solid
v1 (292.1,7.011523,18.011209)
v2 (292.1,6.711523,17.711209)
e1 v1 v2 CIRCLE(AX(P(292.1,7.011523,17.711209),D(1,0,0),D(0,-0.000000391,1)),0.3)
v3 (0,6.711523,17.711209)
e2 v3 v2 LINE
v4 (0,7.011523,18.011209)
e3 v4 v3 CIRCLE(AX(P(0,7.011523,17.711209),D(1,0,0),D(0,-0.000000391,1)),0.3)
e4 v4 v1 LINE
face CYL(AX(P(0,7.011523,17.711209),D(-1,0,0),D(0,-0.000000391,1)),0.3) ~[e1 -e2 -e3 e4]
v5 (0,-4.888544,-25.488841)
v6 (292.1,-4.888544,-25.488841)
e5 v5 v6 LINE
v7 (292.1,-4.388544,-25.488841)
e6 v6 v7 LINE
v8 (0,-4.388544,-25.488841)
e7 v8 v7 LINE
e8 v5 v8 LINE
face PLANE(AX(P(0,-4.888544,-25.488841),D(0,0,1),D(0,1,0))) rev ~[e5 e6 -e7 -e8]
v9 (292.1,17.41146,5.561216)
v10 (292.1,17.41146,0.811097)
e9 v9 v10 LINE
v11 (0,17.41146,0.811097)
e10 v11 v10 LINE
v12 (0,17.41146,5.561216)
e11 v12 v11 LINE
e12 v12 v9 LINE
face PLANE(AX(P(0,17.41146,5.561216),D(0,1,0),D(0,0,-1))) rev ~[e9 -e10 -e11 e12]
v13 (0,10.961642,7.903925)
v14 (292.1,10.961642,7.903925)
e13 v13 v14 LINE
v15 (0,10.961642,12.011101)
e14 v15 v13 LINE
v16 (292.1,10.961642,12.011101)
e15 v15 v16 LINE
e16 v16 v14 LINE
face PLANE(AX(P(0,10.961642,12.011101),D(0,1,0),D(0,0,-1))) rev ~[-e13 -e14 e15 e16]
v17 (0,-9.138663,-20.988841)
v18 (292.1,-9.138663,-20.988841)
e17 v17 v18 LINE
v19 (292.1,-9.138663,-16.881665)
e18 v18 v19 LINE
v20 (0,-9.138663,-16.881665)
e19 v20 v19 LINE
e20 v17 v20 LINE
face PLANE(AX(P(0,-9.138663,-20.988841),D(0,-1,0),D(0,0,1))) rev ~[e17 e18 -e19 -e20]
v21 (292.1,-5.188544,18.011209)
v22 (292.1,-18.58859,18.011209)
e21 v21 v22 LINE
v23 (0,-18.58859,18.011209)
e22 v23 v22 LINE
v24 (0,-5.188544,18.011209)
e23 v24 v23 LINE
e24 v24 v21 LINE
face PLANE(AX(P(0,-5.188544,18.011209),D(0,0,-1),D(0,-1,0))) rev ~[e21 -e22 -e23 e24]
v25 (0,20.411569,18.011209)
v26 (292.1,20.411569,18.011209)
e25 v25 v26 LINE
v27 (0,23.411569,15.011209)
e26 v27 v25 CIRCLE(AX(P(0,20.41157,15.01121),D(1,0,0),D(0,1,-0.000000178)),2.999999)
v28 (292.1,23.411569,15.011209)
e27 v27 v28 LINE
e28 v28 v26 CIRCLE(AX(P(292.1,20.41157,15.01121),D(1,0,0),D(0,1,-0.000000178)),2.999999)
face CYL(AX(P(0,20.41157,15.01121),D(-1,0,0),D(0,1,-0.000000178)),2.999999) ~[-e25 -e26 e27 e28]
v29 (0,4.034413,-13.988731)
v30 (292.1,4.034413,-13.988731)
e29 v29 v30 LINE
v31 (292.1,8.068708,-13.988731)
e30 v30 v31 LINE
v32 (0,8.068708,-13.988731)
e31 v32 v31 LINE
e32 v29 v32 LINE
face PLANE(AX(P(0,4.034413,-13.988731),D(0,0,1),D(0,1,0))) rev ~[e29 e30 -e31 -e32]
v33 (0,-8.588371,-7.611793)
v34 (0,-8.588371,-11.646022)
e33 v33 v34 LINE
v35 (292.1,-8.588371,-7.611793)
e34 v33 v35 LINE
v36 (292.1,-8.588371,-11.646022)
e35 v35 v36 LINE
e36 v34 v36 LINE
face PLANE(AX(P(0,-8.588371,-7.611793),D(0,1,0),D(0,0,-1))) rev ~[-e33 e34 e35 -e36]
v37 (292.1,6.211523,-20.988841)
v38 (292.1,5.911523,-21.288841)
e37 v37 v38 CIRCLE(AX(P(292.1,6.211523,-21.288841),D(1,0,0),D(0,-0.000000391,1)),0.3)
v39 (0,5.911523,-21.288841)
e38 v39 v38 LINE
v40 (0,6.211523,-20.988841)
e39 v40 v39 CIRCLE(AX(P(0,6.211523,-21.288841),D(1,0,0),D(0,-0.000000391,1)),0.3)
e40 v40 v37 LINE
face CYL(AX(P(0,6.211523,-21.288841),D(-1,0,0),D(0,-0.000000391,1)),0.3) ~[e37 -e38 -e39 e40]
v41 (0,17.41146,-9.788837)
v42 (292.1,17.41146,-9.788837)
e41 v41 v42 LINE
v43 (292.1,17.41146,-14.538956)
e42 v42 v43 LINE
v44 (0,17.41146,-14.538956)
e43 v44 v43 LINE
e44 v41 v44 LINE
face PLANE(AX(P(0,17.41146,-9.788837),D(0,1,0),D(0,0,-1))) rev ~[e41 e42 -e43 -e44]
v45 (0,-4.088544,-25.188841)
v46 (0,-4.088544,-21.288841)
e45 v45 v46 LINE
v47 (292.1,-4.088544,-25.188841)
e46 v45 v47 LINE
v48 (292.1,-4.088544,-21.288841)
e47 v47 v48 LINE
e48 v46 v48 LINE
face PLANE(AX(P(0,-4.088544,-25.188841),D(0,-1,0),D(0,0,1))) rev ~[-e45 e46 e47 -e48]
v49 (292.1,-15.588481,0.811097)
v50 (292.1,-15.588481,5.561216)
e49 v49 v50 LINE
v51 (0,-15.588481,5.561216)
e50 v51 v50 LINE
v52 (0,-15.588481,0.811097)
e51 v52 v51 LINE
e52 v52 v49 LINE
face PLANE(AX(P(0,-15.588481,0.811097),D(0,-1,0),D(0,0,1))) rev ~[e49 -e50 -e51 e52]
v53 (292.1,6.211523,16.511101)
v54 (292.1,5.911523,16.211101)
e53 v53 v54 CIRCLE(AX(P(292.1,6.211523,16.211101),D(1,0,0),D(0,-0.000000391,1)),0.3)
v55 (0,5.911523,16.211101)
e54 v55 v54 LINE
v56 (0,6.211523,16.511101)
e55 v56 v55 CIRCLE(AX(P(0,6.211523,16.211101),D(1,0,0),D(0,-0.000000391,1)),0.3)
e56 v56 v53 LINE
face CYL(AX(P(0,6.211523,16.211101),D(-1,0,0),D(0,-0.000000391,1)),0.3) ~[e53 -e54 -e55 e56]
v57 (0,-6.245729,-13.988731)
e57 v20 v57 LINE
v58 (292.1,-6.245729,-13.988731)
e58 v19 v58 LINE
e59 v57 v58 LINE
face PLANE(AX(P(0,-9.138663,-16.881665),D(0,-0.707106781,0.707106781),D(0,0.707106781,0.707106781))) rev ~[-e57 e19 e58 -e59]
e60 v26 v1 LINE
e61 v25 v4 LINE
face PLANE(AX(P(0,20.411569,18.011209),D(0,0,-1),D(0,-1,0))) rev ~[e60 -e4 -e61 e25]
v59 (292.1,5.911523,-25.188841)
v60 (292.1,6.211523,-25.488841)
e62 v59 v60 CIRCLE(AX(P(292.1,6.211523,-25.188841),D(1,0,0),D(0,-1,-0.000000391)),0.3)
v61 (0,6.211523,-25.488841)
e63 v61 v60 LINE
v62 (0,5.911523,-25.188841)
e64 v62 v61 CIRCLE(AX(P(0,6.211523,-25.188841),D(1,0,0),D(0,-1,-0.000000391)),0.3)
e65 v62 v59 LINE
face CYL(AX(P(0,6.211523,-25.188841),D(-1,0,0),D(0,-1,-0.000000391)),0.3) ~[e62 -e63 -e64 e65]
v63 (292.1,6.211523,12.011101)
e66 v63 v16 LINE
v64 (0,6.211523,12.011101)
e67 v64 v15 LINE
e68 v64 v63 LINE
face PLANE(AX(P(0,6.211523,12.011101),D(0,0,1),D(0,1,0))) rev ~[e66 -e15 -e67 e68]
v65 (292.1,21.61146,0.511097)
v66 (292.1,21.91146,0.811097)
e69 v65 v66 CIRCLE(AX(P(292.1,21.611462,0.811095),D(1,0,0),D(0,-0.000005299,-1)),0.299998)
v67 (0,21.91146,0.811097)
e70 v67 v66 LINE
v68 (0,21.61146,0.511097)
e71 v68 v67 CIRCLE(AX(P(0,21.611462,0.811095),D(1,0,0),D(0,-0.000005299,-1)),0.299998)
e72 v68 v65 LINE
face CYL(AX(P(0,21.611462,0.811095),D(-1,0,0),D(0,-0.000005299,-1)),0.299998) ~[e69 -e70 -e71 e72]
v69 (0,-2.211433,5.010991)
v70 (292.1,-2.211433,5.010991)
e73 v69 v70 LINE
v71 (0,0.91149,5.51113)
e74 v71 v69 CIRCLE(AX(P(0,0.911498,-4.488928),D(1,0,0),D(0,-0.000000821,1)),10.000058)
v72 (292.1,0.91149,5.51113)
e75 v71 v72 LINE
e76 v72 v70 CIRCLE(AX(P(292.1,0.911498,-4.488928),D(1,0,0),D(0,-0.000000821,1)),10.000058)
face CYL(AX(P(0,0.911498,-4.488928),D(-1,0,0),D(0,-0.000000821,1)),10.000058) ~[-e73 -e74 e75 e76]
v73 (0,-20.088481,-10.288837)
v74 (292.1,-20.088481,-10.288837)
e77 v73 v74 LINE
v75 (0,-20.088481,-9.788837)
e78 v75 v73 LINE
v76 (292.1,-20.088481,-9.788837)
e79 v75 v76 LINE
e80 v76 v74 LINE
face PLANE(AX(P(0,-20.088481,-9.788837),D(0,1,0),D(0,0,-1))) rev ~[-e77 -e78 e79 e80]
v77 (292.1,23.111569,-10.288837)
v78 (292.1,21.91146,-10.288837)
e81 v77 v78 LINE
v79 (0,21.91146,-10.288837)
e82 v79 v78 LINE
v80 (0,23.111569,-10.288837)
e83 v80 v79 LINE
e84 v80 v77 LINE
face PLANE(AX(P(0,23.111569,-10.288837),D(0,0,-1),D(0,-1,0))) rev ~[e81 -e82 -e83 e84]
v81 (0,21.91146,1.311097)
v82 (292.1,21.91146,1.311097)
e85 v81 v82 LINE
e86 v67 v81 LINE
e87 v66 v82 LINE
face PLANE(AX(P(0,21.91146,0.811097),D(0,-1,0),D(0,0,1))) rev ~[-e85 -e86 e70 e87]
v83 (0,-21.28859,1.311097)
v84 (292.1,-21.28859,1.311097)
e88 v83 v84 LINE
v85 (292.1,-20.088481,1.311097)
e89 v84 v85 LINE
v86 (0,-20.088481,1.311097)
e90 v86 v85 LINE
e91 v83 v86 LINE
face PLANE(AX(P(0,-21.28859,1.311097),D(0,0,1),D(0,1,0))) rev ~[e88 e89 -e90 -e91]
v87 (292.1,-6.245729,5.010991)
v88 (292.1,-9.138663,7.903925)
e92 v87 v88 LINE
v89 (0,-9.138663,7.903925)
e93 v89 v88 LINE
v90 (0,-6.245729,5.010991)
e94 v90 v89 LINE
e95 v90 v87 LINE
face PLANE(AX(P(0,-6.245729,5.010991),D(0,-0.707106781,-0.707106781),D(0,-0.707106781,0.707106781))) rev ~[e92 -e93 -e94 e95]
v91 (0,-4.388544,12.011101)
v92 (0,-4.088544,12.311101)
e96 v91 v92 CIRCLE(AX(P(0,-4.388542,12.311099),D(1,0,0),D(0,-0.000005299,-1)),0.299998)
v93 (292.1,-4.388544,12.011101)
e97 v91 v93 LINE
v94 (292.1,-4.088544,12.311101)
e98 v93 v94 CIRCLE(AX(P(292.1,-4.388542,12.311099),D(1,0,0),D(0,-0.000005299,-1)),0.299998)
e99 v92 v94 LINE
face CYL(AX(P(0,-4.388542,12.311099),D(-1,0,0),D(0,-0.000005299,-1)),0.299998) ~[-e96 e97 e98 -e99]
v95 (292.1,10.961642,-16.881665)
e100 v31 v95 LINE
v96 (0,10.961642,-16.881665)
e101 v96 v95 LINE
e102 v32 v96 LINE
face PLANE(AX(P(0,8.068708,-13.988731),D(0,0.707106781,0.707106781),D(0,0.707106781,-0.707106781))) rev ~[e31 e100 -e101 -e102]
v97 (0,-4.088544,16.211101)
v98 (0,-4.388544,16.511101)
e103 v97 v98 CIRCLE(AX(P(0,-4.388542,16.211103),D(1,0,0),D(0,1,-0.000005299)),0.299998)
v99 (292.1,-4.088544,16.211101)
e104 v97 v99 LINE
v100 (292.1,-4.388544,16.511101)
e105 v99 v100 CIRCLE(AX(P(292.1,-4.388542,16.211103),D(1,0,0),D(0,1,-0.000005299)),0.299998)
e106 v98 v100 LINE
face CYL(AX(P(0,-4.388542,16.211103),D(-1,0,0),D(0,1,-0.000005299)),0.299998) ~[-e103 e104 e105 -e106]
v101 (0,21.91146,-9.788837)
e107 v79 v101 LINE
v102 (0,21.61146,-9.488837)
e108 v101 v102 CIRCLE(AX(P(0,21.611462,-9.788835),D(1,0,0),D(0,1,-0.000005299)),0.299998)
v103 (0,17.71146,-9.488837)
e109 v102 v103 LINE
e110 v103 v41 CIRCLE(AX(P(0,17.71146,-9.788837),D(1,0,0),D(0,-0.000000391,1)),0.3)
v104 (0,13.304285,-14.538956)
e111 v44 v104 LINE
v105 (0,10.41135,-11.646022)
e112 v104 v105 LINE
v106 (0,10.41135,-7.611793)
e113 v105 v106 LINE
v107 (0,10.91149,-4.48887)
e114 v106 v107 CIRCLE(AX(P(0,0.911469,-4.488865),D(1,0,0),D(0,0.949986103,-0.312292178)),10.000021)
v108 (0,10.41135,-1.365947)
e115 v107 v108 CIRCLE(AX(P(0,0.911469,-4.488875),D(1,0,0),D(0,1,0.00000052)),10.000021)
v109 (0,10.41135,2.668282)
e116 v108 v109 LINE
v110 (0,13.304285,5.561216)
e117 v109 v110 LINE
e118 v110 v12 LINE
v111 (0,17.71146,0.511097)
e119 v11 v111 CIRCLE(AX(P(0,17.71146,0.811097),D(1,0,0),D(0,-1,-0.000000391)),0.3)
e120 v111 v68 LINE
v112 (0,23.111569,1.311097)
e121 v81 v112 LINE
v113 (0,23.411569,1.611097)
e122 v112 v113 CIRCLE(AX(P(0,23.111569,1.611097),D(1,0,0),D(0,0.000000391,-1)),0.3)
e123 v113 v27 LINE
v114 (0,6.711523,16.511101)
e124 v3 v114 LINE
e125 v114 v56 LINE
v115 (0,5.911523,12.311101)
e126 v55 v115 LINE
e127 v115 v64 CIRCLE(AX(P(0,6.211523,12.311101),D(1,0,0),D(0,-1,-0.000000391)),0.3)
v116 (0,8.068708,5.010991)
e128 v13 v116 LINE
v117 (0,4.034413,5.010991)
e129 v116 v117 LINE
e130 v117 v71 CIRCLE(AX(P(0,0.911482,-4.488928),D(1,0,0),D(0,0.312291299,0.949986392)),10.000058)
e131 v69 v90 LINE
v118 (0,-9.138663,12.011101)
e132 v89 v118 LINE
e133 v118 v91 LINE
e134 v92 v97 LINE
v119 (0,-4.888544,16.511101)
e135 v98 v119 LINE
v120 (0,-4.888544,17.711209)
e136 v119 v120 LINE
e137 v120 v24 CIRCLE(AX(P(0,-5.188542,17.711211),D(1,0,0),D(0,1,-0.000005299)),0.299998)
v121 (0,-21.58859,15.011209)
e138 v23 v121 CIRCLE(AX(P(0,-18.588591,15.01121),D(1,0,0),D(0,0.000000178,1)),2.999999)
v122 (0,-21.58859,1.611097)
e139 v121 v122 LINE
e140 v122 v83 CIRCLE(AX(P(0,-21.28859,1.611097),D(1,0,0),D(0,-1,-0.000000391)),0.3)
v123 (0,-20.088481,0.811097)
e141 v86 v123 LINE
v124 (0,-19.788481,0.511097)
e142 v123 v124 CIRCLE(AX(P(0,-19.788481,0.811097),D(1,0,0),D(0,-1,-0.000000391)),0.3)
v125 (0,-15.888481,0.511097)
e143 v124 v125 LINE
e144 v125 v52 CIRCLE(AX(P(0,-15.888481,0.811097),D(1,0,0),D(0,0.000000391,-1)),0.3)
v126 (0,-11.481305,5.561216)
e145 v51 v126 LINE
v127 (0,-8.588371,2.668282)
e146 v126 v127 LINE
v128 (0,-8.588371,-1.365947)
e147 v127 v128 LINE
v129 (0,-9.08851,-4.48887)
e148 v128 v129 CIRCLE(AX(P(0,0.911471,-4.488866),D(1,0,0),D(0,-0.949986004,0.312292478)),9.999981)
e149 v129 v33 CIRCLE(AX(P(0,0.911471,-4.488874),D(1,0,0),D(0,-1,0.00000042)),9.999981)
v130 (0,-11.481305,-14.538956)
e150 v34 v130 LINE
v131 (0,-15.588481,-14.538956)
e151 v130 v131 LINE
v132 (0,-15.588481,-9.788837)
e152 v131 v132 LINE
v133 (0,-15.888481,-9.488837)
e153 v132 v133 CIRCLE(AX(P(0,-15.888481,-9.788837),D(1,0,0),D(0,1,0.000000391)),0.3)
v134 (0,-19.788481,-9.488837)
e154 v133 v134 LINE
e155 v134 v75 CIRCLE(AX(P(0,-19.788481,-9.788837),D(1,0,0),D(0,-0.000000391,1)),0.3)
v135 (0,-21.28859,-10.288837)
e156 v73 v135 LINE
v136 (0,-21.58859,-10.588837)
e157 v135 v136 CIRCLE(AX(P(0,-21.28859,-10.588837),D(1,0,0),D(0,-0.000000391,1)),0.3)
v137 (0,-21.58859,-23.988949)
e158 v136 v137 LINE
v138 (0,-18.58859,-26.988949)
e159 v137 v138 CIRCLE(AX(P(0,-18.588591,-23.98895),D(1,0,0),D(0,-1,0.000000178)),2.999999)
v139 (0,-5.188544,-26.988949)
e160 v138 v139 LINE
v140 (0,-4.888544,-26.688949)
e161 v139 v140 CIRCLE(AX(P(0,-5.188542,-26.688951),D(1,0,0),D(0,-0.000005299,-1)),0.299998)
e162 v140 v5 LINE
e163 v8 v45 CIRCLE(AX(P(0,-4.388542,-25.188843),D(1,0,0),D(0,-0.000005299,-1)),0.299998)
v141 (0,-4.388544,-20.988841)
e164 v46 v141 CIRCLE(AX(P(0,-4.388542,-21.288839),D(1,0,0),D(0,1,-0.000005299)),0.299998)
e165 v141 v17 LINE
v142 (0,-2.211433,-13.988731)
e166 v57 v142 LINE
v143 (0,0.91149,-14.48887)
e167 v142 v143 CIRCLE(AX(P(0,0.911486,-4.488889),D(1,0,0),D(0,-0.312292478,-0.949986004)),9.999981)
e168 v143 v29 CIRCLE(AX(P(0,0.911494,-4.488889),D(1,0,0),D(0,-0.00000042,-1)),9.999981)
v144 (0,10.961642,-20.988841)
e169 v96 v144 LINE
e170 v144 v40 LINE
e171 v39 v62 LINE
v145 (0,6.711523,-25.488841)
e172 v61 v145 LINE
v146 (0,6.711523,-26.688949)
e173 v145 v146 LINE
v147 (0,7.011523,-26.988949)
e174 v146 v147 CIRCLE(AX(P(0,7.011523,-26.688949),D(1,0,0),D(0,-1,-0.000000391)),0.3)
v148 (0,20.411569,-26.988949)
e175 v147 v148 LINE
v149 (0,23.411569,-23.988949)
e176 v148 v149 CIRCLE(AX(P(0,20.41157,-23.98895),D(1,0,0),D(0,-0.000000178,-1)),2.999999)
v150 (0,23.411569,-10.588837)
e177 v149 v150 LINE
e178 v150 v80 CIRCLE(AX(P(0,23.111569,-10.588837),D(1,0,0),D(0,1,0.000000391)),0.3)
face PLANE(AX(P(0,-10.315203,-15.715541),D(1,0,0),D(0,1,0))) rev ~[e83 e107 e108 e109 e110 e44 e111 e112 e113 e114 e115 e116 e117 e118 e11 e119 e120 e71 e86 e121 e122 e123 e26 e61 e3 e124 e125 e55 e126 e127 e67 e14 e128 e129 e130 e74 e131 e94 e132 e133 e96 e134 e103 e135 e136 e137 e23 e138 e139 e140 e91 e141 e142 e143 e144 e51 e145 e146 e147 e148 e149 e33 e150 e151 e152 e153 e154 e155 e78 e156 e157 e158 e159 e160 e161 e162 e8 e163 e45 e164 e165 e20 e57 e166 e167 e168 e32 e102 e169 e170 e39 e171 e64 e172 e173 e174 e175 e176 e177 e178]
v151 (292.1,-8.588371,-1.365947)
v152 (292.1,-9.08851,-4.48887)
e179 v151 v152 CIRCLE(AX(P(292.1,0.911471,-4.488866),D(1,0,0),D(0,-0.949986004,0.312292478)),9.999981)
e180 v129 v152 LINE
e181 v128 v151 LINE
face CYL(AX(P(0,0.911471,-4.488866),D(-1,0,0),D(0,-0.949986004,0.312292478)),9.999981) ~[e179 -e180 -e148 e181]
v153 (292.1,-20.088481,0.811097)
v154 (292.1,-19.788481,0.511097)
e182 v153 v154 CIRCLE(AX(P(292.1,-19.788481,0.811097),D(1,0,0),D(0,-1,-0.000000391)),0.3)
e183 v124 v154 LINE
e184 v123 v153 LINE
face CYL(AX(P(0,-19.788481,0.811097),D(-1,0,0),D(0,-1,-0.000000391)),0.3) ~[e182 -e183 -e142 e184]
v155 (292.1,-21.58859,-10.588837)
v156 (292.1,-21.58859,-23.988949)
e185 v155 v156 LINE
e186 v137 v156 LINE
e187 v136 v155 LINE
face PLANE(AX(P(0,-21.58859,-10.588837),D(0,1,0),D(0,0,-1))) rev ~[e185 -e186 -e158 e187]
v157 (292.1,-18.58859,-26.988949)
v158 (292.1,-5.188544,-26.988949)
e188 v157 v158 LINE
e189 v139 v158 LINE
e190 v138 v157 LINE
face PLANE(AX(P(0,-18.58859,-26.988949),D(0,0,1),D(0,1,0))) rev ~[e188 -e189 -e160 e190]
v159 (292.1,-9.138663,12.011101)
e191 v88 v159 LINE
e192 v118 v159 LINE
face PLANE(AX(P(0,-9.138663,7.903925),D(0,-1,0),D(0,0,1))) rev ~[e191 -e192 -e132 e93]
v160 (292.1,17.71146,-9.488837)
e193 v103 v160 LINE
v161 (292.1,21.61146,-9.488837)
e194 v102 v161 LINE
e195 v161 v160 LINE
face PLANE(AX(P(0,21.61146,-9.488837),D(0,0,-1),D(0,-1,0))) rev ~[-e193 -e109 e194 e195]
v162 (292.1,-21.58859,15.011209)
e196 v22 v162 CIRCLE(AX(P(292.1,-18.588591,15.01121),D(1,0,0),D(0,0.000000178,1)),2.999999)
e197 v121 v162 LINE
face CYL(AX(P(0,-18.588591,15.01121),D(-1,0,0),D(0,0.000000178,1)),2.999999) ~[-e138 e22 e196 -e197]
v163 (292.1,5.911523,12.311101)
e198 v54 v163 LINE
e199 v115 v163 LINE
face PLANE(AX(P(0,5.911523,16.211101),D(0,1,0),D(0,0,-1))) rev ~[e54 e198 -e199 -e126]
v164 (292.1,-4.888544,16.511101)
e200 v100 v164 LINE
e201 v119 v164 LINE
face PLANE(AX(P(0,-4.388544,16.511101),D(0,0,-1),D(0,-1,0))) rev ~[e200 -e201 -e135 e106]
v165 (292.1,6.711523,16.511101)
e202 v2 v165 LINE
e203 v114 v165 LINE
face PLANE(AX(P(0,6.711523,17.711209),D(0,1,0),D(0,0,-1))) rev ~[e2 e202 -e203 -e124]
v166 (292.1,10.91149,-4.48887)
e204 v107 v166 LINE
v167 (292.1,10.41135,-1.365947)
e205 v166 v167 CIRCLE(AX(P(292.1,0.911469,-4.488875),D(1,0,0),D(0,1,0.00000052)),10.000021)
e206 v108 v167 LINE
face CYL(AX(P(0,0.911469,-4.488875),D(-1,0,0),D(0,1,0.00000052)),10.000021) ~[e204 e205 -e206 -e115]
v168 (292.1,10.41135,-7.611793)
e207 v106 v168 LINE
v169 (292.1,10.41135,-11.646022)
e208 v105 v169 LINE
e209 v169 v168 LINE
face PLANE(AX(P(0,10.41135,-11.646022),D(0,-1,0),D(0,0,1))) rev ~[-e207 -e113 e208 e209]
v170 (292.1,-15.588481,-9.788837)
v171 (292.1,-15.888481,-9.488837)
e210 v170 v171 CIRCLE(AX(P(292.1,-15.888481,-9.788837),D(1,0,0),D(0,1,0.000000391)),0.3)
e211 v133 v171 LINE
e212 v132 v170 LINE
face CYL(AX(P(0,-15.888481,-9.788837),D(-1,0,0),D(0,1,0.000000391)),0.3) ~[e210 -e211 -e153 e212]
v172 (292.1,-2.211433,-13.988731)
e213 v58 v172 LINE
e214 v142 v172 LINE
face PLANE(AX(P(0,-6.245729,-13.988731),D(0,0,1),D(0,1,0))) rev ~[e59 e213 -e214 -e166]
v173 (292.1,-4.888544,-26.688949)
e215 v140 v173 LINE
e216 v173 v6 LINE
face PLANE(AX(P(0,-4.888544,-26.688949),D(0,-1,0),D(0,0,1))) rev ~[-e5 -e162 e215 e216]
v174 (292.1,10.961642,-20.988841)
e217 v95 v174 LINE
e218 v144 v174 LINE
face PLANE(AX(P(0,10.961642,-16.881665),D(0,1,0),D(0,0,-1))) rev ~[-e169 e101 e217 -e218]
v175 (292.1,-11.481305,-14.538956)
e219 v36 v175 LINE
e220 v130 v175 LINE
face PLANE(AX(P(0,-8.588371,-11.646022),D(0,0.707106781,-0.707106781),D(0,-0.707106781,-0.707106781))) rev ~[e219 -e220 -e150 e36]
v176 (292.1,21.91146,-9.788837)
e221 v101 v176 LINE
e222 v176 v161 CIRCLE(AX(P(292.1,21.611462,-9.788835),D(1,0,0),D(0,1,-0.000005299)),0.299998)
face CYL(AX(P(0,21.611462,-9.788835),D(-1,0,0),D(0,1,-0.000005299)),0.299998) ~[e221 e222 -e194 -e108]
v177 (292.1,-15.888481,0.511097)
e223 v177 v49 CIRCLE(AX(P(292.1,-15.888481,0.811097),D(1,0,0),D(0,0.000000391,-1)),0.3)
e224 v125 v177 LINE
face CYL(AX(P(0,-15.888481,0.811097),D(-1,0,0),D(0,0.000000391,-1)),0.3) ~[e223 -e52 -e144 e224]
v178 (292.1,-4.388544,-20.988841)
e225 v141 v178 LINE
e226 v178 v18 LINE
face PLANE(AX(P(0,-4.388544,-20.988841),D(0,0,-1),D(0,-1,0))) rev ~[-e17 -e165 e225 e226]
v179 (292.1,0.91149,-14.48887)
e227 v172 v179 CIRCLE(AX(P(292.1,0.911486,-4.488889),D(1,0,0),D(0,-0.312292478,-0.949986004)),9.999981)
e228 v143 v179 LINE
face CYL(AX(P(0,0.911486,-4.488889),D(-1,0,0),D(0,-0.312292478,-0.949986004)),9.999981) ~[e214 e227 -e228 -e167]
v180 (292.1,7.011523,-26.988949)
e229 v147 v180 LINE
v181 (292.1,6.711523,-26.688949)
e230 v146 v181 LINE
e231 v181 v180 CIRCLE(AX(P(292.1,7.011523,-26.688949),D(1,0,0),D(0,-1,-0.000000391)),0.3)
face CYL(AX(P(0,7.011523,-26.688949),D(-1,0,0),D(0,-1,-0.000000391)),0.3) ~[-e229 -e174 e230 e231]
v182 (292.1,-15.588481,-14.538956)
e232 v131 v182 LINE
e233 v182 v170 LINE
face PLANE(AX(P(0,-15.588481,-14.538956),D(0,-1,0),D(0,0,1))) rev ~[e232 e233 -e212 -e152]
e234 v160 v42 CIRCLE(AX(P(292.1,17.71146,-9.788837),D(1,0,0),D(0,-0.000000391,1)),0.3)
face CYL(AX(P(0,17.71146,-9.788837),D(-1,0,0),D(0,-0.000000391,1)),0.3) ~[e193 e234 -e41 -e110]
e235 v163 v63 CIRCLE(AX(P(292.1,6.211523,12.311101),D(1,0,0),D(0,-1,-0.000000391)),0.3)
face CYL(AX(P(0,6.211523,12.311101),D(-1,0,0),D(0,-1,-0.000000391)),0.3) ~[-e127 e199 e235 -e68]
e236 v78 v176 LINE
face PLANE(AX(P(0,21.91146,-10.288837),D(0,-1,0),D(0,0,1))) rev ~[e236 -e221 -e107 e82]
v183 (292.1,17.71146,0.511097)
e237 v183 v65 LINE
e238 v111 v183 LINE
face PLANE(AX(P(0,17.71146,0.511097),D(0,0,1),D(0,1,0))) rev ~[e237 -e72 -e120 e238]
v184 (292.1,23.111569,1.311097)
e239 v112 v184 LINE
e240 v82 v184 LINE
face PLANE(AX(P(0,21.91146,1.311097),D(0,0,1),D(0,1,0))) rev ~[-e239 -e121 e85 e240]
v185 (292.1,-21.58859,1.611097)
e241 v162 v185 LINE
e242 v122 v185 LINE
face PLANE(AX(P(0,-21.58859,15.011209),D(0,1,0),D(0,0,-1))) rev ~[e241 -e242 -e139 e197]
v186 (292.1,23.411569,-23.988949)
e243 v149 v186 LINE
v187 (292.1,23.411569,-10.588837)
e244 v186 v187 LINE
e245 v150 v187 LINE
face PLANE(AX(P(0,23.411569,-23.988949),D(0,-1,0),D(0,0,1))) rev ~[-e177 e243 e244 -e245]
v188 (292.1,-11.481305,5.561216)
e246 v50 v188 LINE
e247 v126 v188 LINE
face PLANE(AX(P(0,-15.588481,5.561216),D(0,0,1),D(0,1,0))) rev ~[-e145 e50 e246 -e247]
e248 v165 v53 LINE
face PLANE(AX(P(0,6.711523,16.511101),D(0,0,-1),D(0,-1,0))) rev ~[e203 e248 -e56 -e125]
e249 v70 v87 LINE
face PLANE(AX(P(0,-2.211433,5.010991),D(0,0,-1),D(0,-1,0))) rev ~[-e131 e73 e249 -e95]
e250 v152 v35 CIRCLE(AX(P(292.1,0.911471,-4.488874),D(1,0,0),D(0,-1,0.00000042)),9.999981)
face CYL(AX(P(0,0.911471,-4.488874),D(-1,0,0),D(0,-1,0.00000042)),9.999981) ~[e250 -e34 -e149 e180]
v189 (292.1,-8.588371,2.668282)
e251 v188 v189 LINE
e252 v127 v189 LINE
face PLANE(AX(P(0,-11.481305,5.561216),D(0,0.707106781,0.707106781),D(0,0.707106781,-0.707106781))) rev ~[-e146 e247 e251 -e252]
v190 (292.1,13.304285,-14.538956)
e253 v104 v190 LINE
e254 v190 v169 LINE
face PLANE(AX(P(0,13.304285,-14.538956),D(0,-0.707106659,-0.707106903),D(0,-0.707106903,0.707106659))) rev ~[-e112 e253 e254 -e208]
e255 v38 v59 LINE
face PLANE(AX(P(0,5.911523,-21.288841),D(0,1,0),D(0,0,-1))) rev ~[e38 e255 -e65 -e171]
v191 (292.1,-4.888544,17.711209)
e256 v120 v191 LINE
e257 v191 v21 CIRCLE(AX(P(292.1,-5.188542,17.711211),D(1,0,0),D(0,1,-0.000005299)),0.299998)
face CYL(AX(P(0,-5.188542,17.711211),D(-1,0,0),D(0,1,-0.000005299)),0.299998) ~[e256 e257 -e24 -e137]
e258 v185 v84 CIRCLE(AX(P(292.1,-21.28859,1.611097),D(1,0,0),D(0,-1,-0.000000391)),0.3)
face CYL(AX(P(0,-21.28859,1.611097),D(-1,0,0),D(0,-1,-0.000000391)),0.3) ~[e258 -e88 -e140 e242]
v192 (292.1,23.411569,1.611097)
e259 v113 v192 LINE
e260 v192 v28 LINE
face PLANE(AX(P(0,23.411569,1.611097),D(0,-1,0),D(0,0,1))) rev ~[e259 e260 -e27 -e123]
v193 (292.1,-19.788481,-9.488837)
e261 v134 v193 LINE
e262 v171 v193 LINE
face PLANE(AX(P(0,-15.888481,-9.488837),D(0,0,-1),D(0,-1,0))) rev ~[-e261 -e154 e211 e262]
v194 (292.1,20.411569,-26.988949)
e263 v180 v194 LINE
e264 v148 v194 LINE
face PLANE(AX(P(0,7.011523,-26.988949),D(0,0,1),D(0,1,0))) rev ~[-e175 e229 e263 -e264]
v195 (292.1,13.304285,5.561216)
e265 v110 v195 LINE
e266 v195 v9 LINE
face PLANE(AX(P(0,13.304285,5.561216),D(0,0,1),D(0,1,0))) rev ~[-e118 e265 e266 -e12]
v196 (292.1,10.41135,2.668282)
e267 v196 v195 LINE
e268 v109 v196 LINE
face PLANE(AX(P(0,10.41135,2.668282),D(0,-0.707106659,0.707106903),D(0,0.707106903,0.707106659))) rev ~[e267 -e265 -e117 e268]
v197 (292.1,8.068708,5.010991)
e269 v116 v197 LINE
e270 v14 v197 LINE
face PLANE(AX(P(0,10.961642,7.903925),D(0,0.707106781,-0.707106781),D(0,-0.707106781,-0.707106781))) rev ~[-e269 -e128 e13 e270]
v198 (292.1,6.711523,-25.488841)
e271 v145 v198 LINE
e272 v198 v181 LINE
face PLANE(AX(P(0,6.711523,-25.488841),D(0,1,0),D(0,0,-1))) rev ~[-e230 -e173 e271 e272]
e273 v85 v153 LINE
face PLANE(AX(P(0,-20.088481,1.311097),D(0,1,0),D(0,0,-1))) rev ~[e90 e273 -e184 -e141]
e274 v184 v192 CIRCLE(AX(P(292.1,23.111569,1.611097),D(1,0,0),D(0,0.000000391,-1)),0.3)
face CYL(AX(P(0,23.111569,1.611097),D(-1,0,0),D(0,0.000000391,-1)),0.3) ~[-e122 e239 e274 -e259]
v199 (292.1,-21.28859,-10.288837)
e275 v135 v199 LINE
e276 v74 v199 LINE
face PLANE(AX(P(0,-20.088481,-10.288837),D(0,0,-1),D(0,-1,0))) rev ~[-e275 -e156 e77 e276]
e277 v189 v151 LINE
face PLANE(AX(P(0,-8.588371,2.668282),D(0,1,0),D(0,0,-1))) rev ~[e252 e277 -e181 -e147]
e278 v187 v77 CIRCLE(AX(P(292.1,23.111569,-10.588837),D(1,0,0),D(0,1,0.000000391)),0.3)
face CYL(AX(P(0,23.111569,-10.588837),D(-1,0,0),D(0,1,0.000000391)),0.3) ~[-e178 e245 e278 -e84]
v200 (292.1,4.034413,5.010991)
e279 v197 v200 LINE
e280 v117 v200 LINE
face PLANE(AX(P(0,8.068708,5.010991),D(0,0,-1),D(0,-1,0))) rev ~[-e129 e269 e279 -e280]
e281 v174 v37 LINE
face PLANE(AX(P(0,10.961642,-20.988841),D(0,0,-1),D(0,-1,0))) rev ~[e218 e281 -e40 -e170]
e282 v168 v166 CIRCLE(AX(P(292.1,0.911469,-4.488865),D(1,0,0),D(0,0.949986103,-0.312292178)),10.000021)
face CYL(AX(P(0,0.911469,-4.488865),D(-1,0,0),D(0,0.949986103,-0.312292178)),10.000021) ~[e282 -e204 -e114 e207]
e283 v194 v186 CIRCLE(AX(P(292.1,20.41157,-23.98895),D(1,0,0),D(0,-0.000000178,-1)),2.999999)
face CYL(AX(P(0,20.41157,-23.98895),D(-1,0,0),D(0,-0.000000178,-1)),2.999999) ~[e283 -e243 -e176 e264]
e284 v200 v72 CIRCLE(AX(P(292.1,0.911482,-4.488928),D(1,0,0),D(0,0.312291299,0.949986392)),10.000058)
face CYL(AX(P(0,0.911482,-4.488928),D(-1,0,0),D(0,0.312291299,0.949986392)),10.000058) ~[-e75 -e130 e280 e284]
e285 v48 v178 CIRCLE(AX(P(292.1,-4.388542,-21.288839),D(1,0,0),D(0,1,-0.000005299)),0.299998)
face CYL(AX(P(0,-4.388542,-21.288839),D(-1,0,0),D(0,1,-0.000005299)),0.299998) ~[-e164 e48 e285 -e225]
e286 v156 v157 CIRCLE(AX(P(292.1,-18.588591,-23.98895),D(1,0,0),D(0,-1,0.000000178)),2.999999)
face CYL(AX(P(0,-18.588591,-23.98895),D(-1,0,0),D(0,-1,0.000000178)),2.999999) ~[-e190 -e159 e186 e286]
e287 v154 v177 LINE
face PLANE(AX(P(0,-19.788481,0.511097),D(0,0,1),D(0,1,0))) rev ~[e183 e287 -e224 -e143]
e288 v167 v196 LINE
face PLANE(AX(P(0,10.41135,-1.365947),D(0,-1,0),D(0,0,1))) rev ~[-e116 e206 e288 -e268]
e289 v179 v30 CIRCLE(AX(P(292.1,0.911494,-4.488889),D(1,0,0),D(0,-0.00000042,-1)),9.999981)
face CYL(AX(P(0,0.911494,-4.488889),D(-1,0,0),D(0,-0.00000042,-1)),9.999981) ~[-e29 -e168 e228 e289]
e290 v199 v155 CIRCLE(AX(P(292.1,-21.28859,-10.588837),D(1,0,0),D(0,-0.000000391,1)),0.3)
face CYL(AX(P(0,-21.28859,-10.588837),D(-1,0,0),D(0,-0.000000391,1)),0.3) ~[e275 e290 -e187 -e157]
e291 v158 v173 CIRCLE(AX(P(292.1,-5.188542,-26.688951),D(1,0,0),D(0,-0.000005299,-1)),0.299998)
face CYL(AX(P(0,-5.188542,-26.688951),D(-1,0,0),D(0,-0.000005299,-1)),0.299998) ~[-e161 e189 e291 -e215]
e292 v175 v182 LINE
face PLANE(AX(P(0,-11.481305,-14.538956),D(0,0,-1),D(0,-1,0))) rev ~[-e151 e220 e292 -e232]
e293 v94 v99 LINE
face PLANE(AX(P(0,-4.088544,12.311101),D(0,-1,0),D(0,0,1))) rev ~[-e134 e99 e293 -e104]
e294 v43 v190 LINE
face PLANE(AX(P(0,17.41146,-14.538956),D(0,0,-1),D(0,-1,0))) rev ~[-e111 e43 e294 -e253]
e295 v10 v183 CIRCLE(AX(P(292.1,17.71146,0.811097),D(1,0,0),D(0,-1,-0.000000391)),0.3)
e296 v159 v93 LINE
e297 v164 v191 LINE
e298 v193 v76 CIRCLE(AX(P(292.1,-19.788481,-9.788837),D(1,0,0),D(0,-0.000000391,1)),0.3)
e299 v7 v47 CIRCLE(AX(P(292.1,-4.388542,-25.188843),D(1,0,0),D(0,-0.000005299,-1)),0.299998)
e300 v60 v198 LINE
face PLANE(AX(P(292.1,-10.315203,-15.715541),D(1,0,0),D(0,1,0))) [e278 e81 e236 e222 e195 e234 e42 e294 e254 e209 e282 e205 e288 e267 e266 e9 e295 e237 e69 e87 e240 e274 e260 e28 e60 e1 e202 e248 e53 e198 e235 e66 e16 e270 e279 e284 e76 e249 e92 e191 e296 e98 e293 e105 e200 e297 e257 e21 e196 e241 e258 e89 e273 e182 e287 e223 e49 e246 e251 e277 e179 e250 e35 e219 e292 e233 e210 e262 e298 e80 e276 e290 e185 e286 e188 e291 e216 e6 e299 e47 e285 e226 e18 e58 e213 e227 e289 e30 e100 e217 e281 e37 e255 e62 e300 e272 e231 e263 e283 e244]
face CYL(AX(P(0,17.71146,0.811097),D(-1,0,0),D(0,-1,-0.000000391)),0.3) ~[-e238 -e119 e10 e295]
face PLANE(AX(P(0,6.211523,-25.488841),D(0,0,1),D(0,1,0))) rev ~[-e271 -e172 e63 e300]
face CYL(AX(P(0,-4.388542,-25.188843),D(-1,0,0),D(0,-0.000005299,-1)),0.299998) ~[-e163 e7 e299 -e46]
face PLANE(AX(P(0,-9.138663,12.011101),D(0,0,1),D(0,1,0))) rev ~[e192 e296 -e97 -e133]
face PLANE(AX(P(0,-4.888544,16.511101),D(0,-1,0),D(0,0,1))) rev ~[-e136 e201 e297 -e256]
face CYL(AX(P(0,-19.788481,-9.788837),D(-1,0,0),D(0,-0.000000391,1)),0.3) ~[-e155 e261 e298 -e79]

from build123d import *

# Parameters (mm, degrees)
F1_DEPTH = 292.1


with BuildPart() as f1:
    # F0 (on Right) → F1 (new body)
    with BuildSketch(Plane.YZ):
        with BuildLine():
            Line((-20.088481, -9.788837), (-20.088481, -10.288837))
            Line((-20.088481, -10.288837), (-21.28859, -10.288837))
            ThreePointArc((-21.28859, -10.288837), (-21.500722, -10.376705), (-21.58859, -10.588837))
            Line((-21.58859, -10.588837), (-21.58859, -23.988949))
            ThreePointArc((-21.58859, -23.988949), (-20.70991, -26.11027), (-18.58859, -26.988949))
            Line((-18.58859, -26.988949), (-5.188544, -26.988949))
            ThreePointArc((-5.188544, -26.988949), (-4.976411, -26.901081), (-4.888544, -26.688949))
            Line((-4.888544, -26.688949), (-4.888544, -25.488841))
            Line((-4.888544, -25.488841), (-4.388544, -25.488841))
            ThreePointArc((-4.388544, -25.488841), (-4.176411, -25.400973), (-4.088544, -25.188841))
            Line((-4.088544, -25.188841), (-4.088544, -21.288841))
            ThreePointArc((-4.088544, -21.288841), (-4.176411, -21.076709), (-4.388544, -20.988841))
            Line((-4.388544, -20.988841), (-9.138663, -20.988841))
            Line((-9.138663, -20.988841), (-9.138663, -16.881665))
            Line((-9.138663, -16.881665), (-6.245729, -13.988731))
            Line((-6.245729, -13.988731), (-2.211433, -13.988731))
            ThreePointArc((-2.211433, -13.988731), (-0.669869, -14.363044), (0.91149, -14.48887))
            Line((0.91149, -14.48887), (0.91149, -4.48887))
            Line((0.91149, -4.48887), (-9.08851, -4.48887))
            ThreePointArc((-9.08851, -4.48887), (-8.962684, -6.070229), (-8.588371, -7.611793))
            Line((-8.588371, -7.611793), (-8.588371, -11.646022))
            Line((-8.588371, -11.646022), (-11.481305, -14.538956))
            Line((-11.481305, -14.538956), (-15.588481, -14.538956))
            Line((-15.588481, -14.538956), (-15.588481, -9.788837))
            ThreePointArc((-15.588481, -9.788837), (-15.676349, -9.576705), (-15.888481, -9.488837))
            Line((-15.888481, -9.488837), (-19.788481, -9.488837))
            ThreePointArc((-19.788481, -9.488837), (-20.000613, -9.576705), (-20.088481, -9.788837))
        make_face()
        with BuildLine():
            ThreePointArc((-8.588371, -1.365947), (-8.962684, -2.907511), (-9.08851, -4.48887))
            Line((-9.08851, -4.48887), (0.91149, -4.48887))
            Line((0.91149, -4.48887), (0.91149, 5.51113))
            ThreePointArc((0.91149, 5.51113), (-0.669869, 5.385303), (-2.211433, 5.010991))
            Line((-2.211433, 5.010991), (-6.245729, 5.010991))
            Line((-6.245729, 5.010991), (-9.138663, 7.903925))
            Line((-9.138663, 7.903925), (-9.138663, 12.011101))
            Line((-9.138663, 12.011101), (-4.388544, 12.011101))
            ThreePointArc((-4.388544, 12.011101), (-4.176411, 12.098969), (-4.088544, 12.311101))
            Line((-4.088544, 12.311101), (-4.088544, 16.211101))
            ThreePointArc((-4.088544, 16.211101), (-4.176411, 16.423233), (-4.388544, 16.511101))
            Line((-4.388544, 16.511101), (-4.888544, 16.511101))
            Line((-4.888544, 16.511101), (-4.888544, 17.711209))
            ThreePointArc((-4.888544, 17.711209), (-4.976411, 17.923341), (-5.188544, 18.011209))
            Line((-5.188544, 18.011209), (-18.58859, 18.011209))
            ThreePointArc((-18.58859, 18.011209), (-20.70991, 17.13253), (-21.58859, 15.011209))
            Line((-21.58859, 15.011209), (-21.58859, 1.611097))
            ThreePointArc((-21.58859, 1.611097), (-21.500722, 1.398965), (-21.28859, 1.311097))
            Line((-21.28859, 1.311097), (-20.088481, 1.311097))
            Line((-20.088481, 1.311097), (-20.088481, 0.811097))
            ThreePointArc((-20.088481, 0.811097), (-20.000613, 0.598965), (-19.788481, 0.511097))
            Line((-19.788481, 0.511097), (-15.888481, 0.511097))
            ThreePointArc((-15.888481, 0.511097), (-15.676349, 0.598965), (-15.588481, 0.811097))
            Line((-15.588481, 0.811097), (-15.588481, 5.561216))
            Line((-15.588481, 5.561216), (-11.481305, 5.561216))
            Line((-11.481305, 5.561216), (-8.588371, 2.668282))
            Line((-8.588371, 2.668282), (-8.588371, -1.365947))
        make_face()
        with BuildLine():
            Line((0.91149, 5.51113), (0.91149, -4.48887))
            Line((0.91149, -4.48887), (10.91149, -4.48887))
            ThreePointArc((10.91149, -4.48887), (10.785663, -2.907511), (10.41135, -1.365947))
            Line((10.41135, -1.365947), (10.41135, 2.668282))
            Line((10.41135, 2.668282), (13.304285, 5.561216))
            Line((13.304285, 5.561216), (14.016842, 5.561216))
            Line((14.016842, 5.561216), (17.41146, 5.561216))
            Line((17.41146, 5.561216), (17.41146, 0.811097))
            ThreePointArc((17.41146, 0.811097), (17.499328, 0.598965), (17.71146, 0.511097))
            Line((17.71146, 0.511097), (21.61146, 0.511097))
            ThreePointArc((21.61146, 0.511097), (21.823593, 0.598965), (21.91146, 0.811097))
            Line((21.91146, 0.811097), (21.91146, 1.311097))
            Line((21.91146, 1.311097), (23.111569, 1.311097))
            ThreePointArc((23.111569, 1.311097), (23.323701, 1.398965), (23.411569, 1.611097))
            Line((23.411569, 1.611097), (23.411569, 15.011209))
            ThreePointArc((23.411569, 15.011209), (22.532889, 17.13253), (20.411569, 18.011209))
            Line((20.411569, 18.011209), (7.011523, 18.011209))
            ThreePointArc((7.011523, 18.011209), (6.799391, 17.923341), (6.711523, 17.711209))
            Line((6.711523, 17.711209), (6.711523, 16.511101))
            Line((6.711523, 16.511101), (6.211523, 16.511101))
            ThreePointArc((6.211523, 16.511101), (5.999391, 16.423233), (5.911523, 16.211101))
            Line((5.911523, 16.211101), (5.911523, 12.311101))
            ThreePointArc((5.911523, 12.311101), (5.999391, 12.098969), (6.211523, 12.011101))
            Line((6.211523, 12.011101), (10.961642, 12.011101))
            Line((10.961642, 12.011101), (10.961642, 7.903925))
            Line((10.961642, 7.903925), (8.068708, 5.010991))
            Line((8.068708, 5.010991), (4.034413, 5.010991))
            ThreePointArc((4.034413, 5.010991), (2.492849, 5.385303), (0.91149, 5.51113))
        make_face()
        with BuildLine():
            Line((10.91149, -4.48887), (0.91149, -4.48887))
            Line((0.91149, -4.48887), (0.91149, -14.48887))
            ThreePointArc((0.91149, -14.48887), (2.492849, -14.363044), (4.034413, -13.988731))
            Line((4.034413, -13.988731), (8.068708, -13.988731))
            Line((8.068708, -13.988731), (10.961642, -16.881665))
            Line((10.961642, -16.881665), (10.961642, -20.988841))
            Line((10.961642, -20.988841), (6.211523, -20.988841))
            ThreePointArc((6.211523, -20.988841), (5.999391, -21.076709), (5.911523, -21.288841))
            Line((5.911523, -21.288841), (5.911523, -25.188841))
            ThreePointArc((5.911523, -25.188841), (5.999391, -25.400973), (6.211523, -25.488841))
            Line((6.211523, -25.488841), (6.711523, -25.488841))
            Line((6.711523, -25.488841), (6.711523, -26.688949))
            ThreePointArc((6.711523, -26.688949), (6.799391, -26.901081), (7.011523, -26.988949))
            Line((7.011523, -26.988949), (20.411569, -26.988949))
            ThreePointArc((20.411569, -26.988949), (22.532889, -26.11027), (23.411569, -23.988949))
            Line((23.411569, -23.988949), (23.411569, -10.588837))
            ThreePointArc((23.411569, -10.588837), (23.323701, -10.376705), (23.111569, -10.288837))
            Line((23.111569, -10.288837), (21.91146, -10.288837))
            Line((21.91146, -10.288837), (21.91146, -9.788837))
            ThreePointArc((21.91146, -9.788837), (21.823593, -9.576705), (21.61146, -9.488837))
            Line((21.61146, -9.488837), (17.71146, -9.488837))
            ThreePointArc((17.71146, -9.488837), (17.499328, -9.576705), (17.41146, -9.788837))
            Line((17.41146, -9.788837), (17.41146, -14.538956))
            Line((17.41146, -14.538956), (13.304285, -14.538956))
            Line((13.304285, -14.538956), (10.41135, -11.646022))
            Line((10.41135, -11.646022), (10.41135, -7.611793))
            ThreePointArc((10.41135, -7.611793), (10.785663, -6.070229), (10.91149, -4.48887))
        make_face()
    extrude(amount=F1_DEPTH)


solid = f1.part
